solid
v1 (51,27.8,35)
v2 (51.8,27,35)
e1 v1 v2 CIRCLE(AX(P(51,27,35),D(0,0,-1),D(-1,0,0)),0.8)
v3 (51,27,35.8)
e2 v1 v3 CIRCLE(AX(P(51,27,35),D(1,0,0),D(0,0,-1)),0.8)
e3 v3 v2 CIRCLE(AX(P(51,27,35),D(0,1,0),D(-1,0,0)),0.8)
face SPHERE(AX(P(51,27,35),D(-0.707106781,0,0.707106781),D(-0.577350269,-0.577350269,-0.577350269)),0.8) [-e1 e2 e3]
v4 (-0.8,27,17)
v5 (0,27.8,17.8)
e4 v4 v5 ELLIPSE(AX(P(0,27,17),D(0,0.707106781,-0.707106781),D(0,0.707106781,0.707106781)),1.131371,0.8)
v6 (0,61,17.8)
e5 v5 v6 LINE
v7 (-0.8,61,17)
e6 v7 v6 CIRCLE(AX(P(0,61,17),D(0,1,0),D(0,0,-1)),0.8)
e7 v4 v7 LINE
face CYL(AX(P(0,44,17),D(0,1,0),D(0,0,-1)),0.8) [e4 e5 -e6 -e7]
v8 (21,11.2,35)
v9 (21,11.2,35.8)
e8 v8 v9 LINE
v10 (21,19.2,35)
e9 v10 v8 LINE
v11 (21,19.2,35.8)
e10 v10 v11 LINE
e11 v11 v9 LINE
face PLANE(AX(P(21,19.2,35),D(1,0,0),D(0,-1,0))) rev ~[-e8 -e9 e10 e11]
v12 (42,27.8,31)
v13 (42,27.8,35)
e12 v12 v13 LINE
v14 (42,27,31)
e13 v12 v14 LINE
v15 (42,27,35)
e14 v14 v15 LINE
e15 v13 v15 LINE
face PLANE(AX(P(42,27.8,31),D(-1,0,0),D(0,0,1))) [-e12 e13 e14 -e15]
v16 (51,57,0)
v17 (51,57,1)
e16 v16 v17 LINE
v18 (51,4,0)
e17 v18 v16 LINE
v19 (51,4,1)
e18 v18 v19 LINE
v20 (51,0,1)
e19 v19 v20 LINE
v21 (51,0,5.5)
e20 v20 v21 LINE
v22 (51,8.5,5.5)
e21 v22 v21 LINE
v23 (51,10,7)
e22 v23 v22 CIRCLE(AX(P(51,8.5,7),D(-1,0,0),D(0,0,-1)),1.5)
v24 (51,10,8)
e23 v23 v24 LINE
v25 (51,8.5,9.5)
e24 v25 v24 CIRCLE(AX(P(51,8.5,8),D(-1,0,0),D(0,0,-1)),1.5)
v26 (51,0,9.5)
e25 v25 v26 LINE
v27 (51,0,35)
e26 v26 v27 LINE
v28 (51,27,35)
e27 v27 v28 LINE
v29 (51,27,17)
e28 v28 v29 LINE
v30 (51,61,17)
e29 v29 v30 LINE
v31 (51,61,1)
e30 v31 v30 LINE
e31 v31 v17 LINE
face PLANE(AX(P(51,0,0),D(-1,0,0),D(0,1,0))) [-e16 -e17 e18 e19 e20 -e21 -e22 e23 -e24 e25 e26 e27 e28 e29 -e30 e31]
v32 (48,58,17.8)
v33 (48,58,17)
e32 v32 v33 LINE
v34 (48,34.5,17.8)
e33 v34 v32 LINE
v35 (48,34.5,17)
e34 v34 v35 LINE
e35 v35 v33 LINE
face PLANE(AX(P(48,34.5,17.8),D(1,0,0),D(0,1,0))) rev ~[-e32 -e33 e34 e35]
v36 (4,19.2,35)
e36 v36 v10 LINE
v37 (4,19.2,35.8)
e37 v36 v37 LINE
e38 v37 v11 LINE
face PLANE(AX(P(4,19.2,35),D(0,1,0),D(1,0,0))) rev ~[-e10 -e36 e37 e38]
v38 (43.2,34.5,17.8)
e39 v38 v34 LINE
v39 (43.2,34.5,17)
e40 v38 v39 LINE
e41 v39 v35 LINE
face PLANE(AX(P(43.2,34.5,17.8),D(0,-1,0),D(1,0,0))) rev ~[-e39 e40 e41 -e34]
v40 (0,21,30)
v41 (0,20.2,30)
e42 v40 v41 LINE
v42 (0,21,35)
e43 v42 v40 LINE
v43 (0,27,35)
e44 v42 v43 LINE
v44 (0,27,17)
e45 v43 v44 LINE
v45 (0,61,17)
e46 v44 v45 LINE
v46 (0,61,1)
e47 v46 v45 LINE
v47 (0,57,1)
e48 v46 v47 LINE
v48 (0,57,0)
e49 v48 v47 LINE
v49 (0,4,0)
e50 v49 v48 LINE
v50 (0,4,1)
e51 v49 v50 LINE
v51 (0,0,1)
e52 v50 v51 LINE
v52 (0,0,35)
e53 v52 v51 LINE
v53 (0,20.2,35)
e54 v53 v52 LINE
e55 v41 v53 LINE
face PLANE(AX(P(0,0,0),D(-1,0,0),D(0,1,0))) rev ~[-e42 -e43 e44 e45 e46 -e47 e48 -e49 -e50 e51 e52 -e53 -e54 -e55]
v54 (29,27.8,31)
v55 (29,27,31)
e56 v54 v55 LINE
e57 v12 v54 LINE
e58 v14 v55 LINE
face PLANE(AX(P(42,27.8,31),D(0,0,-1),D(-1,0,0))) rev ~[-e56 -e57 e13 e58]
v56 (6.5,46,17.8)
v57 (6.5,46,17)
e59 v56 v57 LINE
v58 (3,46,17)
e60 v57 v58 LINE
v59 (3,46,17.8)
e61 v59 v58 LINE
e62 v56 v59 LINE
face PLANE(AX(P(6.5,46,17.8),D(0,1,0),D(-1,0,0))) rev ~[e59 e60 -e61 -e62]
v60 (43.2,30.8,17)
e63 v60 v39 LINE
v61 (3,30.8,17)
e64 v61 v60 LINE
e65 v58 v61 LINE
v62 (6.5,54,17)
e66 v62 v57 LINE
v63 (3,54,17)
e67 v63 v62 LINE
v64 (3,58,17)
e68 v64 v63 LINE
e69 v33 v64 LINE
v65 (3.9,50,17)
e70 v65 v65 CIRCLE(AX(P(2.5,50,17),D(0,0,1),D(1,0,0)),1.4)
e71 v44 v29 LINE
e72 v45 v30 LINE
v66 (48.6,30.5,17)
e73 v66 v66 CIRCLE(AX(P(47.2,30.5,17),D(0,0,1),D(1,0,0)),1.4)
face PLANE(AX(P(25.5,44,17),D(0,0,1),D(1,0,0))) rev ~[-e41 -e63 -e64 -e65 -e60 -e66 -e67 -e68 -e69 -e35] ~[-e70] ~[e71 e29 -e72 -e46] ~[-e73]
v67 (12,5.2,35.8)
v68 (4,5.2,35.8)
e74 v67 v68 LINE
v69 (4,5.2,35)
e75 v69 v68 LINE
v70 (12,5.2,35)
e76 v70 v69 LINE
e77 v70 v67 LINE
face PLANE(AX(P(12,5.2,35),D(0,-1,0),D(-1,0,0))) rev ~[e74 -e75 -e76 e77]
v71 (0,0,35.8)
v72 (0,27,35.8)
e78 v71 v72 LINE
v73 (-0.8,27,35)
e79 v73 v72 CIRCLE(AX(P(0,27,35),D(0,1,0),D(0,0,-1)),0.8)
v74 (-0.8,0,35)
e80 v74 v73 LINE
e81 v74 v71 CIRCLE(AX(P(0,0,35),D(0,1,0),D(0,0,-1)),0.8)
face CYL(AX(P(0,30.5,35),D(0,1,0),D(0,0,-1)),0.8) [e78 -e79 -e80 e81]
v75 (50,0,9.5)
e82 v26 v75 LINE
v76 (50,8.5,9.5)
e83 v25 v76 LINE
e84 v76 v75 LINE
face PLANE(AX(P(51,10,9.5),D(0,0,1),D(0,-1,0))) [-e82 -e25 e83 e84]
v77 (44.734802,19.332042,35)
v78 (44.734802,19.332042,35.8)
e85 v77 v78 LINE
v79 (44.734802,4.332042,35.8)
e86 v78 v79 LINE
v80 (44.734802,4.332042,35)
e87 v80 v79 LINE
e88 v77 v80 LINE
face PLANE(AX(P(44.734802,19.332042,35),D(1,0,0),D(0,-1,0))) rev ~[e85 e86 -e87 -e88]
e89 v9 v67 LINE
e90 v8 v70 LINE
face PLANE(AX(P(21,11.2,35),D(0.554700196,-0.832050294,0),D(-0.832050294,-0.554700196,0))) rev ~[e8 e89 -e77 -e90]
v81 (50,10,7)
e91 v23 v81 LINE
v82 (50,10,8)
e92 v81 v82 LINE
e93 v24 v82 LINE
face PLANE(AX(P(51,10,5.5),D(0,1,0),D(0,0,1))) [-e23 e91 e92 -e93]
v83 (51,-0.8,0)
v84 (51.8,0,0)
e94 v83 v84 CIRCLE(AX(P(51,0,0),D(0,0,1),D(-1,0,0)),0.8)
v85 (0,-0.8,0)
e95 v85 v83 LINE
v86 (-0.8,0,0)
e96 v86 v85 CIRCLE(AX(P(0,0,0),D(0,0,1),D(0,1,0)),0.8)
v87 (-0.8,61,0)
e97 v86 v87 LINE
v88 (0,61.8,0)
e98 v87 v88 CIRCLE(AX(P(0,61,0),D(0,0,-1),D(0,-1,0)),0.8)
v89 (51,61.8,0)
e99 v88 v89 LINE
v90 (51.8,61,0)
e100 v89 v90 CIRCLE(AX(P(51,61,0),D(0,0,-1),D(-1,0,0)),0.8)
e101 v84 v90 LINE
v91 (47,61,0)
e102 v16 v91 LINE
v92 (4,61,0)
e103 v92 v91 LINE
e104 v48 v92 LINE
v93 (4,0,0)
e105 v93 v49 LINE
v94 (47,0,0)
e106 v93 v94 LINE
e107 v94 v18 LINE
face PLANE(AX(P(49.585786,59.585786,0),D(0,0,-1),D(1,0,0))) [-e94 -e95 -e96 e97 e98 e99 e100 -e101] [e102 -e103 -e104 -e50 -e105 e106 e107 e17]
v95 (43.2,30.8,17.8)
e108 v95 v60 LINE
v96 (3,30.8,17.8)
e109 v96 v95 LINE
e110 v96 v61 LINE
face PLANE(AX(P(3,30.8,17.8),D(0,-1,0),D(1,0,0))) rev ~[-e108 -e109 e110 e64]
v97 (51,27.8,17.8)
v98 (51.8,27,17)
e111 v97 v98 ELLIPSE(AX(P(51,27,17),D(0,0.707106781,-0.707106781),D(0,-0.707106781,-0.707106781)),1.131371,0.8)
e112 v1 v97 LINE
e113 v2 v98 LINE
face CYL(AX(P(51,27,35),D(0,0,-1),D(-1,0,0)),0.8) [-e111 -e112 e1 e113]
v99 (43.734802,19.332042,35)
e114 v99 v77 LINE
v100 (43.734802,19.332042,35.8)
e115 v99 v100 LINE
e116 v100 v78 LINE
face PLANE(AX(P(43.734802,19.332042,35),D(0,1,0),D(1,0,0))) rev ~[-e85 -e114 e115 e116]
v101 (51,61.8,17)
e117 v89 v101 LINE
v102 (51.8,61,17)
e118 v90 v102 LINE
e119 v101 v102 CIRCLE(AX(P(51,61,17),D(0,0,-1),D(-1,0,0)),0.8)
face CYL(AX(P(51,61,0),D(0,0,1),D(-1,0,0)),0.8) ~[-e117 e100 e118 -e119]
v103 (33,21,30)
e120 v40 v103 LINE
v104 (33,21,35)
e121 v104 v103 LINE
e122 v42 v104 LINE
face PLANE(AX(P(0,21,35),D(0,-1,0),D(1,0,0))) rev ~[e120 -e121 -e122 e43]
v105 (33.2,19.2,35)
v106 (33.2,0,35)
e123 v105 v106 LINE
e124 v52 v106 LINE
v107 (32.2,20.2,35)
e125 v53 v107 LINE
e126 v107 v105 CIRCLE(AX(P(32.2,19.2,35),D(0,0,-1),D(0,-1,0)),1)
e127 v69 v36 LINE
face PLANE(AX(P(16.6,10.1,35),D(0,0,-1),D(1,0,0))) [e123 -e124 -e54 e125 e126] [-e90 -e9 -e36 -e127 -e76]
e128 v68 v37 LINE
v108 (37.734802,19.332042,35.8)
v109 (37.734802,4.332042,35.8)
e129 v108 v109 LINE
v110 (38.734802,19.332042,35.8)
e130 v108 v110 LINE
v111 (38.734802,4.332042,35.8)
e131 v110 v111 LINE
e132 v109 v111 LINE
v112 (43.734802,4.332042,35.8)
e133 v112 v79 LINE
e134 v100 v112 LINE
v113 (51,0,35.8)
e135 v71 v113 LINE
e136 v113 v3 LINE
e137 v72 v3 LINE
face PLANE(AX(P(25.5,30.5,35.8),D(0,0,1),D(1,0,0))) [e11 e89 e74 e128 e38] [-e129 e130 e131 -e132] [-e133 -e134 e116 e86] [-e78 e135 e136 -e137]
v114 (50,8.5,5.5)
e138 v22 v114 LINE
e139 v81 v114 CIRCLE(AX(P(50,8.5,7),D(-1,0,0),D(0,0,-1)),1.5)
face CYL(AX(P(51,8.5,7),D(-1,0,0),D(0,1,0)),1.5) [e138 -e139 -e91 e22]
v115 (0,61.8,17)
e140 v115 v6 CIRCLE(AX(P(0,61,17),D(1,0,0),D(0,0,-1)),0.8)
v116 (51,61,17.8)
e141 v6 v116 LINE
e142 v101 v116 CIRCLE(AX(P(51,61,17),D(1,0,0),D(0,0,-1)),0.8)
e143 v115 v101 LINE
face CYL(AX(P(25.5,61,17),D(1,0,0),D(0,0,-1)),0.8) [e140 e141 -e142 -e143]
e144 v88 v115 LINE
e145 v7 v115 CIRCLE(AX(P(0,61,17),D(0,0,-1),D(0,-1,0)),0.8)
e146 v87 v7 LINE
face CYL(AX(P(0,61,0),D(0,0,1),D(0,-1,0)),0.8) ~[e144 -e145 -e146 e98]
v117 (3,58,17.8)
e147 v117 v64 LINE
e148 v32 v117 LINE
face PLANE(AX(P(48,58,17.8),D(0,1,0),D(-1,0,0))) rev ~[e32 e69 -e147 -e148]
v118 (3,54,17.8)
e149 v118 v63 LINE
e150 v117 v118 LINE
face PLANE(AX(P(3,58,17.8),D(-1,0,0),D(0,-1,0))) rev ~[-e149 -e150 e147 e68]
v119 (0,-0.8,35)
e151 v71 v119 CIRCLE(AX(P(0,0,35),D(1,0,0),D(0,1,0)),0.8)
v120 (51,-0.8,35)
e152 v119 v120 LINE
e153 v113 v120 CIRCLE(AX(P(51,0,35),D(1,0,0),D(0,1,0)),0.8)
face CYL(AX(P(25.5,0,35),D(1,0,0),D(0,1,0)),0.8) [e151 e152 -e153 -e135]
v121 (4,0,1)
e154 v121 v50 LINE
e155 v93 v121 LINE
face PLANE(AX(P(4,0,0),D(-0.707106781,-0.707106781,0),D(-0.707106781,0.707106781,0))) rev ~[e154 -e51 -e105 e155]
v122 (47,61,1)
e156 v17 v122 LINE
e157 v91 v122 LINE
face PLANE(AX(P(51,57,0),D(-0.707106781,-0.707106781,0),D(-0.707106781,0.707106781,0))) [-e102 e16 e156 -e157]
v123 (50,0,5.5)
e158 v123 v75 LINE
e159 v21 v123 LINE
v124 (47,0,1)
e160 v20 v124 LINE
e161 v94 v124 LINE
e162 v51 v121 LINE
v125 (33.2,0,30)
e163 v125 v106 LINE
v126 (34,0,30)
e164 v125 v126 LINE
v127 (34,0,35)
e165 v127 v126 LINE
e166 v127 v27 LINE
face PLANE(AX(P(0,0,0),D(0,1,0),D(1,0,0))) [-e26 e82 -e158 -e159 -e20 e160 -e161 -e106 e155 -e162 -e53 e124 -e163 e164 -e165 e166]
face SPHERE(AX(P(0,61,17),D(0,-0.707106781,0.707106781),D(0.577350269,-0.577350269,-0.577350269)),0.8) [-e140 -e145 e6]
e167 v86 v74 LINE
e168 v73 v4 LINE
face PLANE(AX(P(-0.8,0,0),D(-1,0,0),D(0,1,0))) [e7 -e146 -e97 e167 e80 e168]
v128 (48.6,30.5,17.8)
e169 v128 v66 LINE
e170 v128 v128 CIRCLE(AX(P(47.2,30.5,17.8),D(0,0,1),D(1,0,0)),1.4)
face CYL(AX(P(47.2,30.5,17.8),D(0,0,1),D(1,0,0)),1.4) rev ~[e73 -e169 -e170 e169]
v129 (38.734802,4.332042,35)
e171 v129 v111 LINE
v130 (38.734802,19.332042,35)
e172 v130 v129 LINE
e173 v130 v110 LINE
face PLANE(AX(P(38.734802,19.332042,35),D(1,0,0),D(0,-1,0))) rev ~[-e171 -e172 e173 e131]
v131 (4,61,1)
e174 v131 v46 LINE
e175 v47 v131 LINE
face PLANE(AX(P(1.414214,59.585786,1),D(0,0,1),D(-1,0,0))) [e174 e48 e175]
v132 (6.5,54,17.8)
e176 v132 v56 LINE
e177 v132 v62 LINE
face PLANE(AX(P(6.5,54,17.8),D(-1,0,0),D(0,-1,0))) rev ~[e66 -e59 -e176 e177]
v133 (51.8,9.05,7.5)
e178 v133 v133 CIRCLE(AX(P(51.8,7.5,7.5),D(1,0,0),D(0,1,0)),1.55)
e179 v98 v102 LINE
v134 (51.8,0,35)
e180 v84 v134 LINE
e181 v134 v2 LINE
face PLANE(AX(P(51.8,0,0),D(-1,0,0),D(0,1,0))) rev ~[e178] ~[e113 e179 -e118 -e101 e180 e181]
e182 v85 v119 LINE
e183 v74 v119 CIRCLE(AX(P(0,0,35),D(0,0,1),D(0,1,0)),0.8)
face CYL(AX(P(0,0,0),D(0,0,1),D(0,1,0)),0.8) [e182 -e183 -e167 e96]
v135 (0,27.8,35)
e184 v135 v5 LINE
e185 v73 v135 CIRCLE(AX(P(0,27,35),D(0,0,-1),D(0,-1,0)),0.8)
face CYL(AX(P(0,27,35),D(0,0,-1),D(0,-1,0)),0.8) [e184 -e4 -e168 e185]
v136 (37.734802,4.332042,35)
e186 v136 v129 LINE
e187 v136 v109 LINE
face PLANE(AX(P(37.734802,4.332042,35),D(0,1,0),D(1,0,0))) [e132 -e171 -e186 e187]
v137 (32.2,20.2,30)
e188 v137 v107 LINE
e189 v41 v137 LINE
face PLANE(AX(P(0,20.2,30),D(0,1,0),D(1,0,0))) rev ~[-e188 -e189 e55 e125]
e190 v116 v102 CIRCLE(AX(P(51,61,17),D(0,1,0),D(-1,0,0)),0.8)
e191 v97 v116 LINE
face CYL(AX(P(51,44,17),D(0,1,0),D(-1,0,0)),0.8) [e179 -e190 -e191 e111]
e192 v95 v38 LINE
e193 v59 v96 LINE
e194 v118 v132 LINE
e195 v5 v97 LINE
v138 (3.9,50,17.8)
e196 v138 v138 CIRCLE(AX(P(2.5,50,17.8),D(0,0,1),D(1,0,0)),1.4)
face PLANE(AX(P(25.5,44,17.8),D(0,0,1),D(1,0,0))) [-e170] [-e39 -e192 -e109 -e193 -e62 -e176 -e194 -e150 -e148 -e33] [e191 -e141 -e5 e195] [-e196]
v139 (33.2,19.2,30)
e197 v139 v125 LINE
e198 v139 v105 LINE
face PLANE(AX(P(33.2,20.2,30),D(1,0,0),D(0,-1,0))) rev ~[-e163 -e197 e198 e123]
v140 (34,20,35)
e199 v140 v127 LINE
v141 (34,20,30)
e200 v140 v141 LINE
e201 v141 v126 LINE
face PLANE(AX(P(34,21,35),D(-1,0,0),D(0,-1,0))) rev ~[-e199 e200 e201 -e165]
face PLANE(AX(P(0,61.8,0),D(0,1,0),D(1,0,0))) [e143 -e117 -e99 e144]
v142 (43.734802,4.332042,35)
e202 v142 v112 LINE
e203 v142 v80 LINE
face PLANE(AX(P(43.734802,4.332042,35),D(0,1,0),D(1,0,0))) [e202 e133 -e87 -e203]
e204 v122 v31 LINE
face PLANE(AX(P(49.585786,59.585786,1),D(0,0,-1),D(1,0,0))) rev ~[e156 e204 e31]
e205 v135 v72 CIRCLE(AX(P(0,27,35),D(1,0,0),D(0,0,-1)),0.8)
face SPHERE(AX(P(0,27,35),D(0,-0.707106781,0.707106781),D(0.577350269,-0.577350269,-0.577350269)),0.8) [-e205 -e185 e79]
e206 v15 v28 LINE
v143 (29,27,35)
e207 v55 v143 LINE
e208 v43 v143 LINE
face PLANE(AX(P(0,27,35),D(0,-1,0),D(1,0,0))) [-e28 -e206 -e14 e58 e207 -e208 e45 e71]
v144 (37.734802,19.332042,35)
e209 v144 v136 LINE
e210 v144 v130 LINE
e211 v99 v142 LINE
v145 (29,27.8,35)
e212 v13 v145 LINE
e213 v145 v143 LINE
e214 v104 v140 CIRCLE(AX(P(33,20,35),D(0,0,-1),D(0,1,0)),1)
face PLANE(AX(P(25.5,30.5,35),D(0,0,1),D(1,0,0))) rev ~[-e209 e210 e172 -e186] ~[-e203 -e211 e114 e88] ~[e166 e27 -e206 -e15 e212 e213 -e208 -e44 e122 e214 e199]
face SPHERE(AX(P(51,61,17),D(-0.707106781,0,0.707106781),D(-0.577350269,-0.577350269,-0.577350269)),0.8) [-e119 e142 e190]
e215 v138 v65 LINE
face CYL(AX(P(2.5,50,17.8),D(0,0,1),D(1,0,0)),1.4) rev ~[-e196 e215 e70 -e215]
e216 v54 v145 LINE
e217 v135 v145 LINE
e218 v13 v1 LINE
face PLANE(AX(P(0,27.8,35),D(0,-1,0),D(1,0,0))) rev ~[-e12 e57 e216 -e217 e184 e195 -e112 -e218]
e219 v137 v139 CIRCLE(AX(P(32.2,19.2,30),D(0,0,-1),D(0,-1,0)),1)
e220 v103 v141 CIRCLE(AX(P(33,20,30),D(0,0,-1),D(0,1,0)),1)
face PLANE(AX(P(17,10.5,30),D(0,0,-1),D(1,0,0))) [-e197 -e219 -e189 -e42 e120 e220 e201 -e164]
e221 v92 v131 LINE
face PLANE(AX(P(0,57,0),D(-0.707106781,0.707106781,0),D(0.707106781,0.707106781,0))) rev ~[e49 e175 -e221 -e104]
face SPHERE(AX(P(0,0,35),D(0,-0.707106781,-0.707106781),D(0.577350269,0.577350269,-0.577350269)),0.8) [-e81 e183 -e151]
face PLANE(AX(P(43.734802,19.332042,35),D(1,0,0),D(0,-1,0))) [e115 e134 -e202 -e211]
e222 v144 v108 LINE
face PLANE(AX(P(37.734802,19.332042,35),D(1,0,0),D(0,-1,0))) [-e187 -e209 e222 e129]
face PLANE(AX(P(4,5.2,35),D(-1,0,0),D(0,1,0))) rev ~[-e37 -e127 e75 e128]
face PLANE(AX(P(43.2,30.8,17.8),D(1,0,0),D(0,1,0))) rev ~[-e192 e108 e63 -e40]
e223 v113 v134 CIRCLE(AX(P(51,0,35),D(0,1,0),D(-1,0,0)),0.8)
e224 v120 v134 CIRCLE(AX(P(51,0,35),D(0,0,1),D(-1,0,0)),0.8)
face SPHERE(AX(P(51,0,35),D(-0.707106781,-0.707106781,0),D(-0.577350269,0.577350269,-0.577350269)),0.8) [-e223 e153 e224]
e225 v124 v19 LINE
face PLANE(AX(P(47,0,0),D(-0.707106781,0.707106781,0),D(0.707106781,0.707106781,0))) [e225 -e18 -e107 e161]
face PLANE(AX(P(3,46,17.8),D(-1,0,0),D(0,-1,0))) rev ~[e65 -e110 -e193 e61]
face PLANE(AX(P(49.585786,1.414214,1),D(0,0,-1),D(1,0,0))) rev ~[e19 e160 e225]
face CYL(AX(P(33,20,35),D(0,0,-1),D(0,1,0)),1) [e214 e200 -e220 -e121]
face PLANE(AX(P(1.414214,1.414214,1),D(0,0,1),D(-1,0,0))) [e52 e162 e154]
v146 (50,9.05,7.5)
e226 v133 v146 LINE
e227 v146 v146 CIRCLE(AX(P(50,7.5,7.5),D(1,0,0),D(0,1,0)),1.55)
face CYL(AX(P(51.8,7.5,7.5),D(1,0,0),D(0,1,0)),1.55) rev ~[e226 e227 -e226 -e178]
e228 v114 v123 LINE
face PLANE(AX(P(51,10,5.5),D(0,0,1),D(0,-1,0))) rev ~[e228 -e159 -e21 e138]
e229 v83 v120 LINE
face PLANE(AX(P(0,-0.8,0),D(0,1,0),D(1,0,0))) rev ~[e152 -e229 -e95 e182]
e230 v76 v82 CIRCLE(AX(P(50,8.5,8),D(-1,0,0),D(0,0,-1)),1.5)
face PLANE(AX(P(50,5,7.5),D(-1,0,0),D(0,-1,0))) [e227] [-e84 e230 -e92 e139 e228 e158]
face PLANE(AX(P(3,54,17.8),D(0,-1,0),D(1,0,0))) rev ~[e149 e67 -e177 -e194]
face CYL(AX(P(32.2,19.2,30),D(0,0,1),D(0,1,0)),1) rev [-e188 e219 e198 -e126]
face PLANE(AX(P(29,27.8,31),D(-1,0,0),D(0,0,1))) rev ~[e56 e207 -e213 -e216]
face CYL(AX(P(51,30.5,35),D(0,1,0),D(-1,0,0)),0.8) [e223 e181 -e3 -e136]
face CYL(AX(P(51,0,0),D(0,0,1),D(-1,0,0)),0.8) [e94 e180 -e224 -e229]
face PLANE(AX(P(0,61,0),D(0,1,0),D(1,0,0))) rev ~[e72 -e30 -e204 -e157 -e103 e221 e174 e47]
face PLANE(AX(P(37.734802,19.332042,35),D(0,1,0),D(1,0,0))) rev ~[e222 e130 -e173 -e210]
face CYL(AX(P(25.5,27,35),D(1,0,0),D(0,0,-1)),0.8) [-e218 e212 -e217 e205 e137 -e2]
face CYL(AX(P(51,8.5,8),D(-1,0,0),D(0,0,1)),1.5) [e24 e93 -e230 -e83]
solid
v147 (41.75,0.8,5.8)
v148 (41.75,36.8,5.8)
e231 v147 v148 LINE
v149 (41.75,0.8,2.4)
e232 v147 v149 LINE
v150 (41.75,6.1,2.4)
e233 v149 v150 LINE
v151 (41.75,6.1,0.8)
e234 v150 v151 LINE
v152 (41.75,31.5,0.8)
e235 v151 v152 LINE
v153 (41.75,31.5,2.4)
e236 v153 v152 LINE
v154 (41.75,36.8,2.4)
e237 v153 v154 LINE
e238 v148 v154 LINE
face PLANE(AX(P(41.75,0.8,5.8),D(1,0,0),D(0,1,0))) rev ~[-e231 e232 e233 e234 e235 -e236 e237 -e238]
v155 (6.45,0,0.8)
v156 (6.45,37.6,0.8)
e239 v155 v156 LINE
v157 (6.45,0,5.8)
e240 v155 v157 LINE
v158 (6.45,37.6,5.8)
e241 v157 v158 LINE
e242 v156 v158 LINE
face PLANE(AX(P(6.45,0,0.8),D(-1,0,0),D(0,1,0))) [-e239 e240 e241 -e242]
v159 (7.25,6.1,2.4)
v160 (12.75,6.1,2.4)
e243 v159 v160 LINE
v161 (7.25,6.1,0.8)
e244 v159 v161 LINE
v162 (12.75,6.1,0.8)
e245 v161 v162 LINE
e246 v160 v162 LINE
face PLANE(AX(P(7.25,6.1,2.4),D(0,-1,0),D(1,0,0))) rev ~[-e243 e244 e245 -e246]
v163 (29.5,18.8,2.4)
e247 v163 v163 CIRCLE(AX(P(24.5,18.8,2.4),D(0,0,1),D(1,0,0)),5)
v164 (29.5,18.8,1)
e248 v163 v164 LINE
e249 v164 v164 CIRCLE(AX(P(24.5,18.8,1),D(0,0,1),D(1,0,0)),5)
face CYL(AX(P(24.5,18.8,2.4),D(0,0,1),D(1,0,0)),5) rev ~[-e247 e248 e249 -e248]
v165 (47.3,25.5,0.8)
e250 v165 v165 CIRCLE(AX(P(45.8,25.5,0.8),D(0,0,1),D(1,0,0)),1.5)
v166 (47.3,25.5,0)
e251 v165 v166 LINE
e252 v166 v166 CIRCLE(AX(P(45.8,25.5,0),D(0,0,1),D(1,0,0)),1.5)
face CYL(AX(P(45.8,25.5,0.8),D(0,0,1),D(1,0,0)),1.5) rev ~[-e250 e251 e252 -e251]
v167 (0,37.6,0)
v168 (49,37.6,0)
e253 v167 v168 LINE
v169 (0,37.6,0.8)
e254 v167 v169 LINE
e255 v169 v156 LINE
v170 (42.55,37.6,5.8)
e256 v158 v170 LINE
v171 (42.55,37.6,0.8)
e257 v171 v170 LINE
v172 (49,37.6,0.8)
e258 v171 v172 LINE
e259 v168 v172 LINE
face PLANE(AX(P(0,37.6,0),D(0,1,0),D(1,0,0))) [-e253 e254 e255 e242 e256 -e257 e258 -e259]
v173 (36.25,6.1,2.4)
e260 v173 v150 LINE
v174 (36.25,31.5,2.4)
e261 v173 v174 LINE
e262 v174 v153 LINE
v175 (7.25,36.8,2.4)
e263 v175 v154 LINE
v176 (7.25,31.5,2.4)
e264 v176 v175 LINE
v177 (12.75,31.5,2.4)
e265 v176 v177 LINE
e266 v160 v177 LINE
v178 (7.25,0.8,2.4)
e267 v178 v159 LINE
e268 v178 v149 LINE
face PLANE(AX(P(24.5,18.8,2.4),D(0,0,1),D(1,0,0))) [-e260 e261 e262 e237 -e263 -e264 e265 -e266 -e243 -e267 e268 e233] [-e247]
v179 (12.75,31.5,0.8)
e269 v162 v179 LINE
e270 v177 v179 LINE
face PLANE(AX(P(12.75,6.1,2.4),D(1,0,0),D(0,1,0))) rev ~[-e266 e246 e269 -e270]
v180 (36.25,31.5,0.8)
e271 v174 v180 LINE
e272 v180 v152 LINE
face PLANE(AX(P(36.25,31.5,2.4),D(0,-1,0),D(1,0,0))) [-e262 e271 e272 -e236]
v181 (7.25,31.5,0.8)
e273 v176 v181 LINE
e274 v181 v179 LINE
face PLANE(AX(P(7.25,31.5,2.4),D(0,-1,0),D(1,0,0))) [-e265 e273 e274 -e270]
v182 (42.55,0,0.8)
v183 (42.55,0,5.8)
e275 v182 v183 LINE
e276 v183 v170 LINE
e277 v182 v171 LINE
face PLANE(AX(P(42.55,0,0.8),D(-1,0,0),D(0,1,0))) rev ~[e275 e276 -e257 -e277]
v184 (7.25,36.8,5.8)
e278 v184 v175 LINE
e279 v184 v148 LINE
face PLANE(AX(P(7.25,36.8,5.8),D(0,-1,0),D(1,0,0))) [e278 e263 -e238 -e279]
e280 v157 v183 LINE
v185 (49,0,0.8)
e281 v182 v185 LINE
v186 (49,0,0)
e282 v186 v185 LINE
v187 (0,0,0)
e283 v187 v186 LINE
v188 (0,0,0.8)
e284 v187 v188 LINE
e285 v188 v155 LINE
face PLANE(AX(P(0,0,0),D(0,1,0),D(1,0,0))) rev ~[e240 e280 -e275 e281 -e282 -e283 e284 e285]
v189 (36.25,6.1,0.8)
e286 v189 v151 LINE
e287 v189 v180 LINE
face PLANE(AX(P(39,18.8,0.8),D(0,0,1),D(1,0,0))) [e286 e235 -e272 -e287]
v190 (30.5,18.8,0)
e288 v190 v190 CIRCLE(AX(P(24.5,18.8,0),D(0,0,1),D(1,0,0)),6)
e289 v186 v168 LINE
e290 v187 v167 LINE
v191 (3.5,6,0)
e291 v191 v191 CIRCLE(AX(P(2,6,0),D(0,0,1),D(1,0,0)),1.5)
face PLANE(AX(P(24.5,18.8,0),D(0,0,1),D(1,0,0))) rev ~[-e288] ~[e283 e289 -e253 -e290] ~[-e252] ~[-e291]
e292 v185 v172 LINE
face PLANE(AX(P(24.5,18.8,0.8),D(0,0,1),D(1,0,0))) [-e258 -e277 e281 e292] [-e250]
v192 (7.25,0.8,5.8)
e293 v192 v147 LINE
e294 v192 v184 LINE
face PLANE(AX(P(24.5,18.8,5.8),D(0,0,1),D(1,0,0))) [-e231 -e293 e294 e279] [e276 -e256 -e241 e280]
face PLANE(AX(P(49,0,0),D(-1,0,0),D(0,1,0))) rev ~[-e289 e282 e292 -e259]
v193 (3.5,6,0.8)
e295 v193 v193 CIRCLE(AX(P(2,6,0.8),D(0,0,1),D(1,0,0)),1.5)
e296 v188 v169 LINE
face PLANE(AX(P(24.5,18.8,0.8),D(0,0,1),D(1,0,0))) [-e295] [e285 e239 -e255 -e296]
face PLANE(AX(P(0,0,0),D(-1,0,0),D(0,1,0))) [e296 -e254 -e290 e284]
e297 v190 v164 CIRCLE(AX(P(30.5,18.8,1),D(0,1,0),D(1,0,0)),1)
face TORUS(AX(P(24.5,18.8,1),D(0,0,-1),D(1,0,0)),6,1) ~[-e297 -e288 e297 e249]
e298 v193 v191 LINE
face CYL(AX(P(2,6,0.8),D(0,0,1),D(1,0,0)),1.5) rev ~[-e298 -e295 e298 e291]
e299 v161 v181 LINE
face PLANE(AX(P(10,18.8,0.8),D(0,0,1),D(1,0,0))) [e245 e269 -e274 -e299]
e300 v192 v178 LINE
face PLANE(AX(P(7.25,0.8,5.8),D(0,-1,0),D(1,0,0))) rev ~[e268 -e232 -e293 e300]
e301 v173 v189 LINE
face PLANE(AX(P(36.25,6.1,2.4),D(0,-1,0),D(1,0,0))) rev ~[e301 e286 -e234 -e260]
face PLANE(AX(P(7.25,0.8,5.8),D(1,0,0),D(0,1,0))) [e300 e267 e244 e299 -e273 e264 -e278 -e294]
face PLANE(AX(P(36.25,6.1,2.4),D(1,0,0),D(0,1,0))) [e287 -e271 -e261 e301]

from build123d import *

# Parameters (mm, degrees)
SKETCH_W                = 51
SKETCH_H                = 61
PAD_DEPTH               = 35
SKETCH001_W             = 51
SKETCH001_H             = 34
POCKET_DEPTH            = 18
THICKNESS_T             = 0.8
SKETCH002_W             = 13
SKETCH002_H             = 4
POCKET001_DEPTH         = 0.8
SKETCH003_R             = 1.4
POCKET002_DEPTH         = 0.8
SKETCH004_R             = 1.4
POCKET003_DEPTH         = 0.8
POCKET004_DEPTH         = 0.8
SKETCH006_W             = 34
SKETCH006_H             = 21
PAD001_DEPTH            = 5
SKETCH007_W             = 33.2
SKETCH007_H             = 20.2
POCKET005_DEPTH         = 5
POCKET006_DEPTH         = 0.8
SKETCH010_W             = 1
SKETCH010_H             = 15
POCKET007_DEPTH         = 0.8
LINEARPATTERN_COUNT     = 2
LINEARPATTERN_PITCH     = 6
FILLET_R                = 1
PAD002_DEPTH            = 1
PAD003_DEPTH            = 1
PAD004_DEPTH            = 1
PAD005_DEPTH            = 1
SKETCH016_W             = 10
SKETCH016_H             = 4
PAD006_DEPTH            = 1
SKETCH015_R             = 1.55
POCKET008_DEPTH         = 1.8
FILLET001_R             = 1.5
SKETCH017_W             = 49
SKETCH017_H             = 37.6
PAD007_DEPTH            = 0.8
SKETCH018_R             = 1.5
POCKET009_DEPTH         = 0.8
SKETCH020_R             = 1.5
POCKET010_DEPTH         = 0.8
SKETCH021_W             = 36.1
SKETCH021_H             = 37.6
PAD008_DEPTH            = 5
SKETCH022_W             = 34.5
SKETCH022_H             = 36
POCKET011_DEPTH         = 3.4
SKETCH023_W             = 5.5
SKETCH023_H             = 25.4
POCKET012_DEPTH         = 1.6
SKETCH024_W             = 5.5
SKETCH024_H             = 25.4
POCKET013_DEPTH         = 1.6
SKETCH025_R             = 5
POCKET014_DEPTH         = 2.4
FILLET002_R             = 1
BODY001_PLACEMENT_ANGLE = 180


with BuildPart() as body:
    # Sketch → Pad (new body)
    with BuildSketch(Plane.XY):
        with Locations((25.5, 30.5)):
            Rectangle(SKETCH_W, SKETCH_H)
    extrude(amount=PAD_DEPTH)

    # Sketch001 (on Face6 of Pad) → Pocket (cut)
    with BuildSketch(Plane.XY.offset(35)):
        with Locations((25.5, 44)):
            Rectangle(SKETCH001_W, SKETCH001_H)
    extrude(amount=-POCKET_DEPTH, mode=Mode.SUBTRACT)

    # Thickness
    thickness_openings = [body.faces().sort_by_distance(p)[0] for p in [
        (25.5, 30.5, 0),
    ]]
    offset(amount=THICKNESS_T, openings=thickness_openings)

    # Sketch002 (on Face31 of Thickness) → Pocket001 (cut)
    with BuildSketch(Plane(origin=(0, 27.8, 0), x_dir=(-1, 0, 0), z_dir=(0, 1, 0))):
        with Locations((-35.5, 33)):
            Rectangle(SKETCH002_W, SKETCH002_H)
    extrude(amount=-POCKET001_DEPTH, mode=Mode.SUBTRACT)

    # Sketch003 (on Face35 of Pocket001) → Pocket002 (cut)
    with BuildSketch(Plane.XY.offset(17.8)):
        with Locations((2.5, 50)):
            Circle(SKETCH003_R)
    extrude(amount=-POCKET002_DEPTH, mode=Mode.SUBTRACT)

    # Sketch004 (on Face36 of Pocket002) → Pocket003 (cut)
    with BuildSketch(Plane.XY.offset(17.8)):
        with Locations((47.2, 30.5)):
            Circle(SKETCH004_R)
    extrude(amount=-POCKET003_DEPTH, mode=Mode.SUBTRACT)

    # Sketch005 (on Face37 of Pocket003) → Pocket004 (cut)
    with BuildSketch(Plane.XY.offset(17.8)):
        Polygon((3, 46), (3, 30.8), (43.2, 30.8), (43.2, 34.5), (48, 34.5), (48, 58), (3, 58), (3, 54), (6.5, 54), (6.5, 46), align=None)
    extrude(amount=-POCKET004_DEPTH, mode=Mode.SUBTRACT)

    # Sketch006 (on Face5 of Pocket004) → Pad001 (join)
    with BuildSketch(Plane(origin=(0, 0, 35), x_dir=(1, 0, 0), z_dir=(0, 0, -1))):
        with Locations((17, -10.5)):
            Rectangle(SKETCH006_W, SKETCH006_H)
    extrude(amount=PAD001_DEPTH)

    # Sketch007 (on Face6 of Pad001) → Pocket005 (cut)
    with BuildSketch(Plane(origin=(0, 0, 30), x_dir=(1, 0, 0), z_dir=(0, 0, -1))):
        with Locations((16.6, -10.1)):
            Rectangle(SKETCH007_W, SKETCH007_H)
    extrude(amount=-POCKET005_DEPTH, mode=Mode.SUBTRACT)

    # Sketch008 (on Face24 of Pocket005) → Pocket006 (cut)
    with BuildSketch(Plane(origin=(0, 0, 35), x_dir=(1, 0, 0), z_dir=(0, 0, -1))):
        Polygon((4, -19.2), (21, -19.2), (21, -11.2), (12, -5.2), (4, -5.2), align=None)
    extrude(amount=-POCKET006_DEPTH, mode=Mode.SUBTRACT)

    # Sketch010 (on Face4 of Pocket006) → Pocket007 (cut)
    with BuildSketch(Plane(origin=(0, 0, 35), x_dir=(1, 0, 0), z_dir=(0, 0, -1))):
        with Locations((38.234802, -11.832042)):
            Rectangle(SKETCH010_W, SKETCH010_H)
    pocket007 = extrude(amount=-POCKET007_DEPTH, mode=Mode.SUBTRACT)

    # LinearPattern: Pocket007 ×2
    with Locations(*[(i * LINEARPATTERN_PITCH, 0, 0) for i in range(1, LINEARPATTERN_COUNT)]):
        add(pocket007, mode=Mode.SUBTRACT)

    # Fillet
    fillet_edges = [body.edges().sort_by_distance(p)[0] for p in [
        (33.2, 20.2, 32.5),
        (34, 21, 32.5),
    ]]
    fillet(fillet_edges, radius=FILLET_R)

    # Sketch011 (on Face19 of Fillet) → Pad002 (join)
    with BuildSketch(Plane(origin=(0, 0, 0), x_dir=(1, 0, 0), z_dir=(0, 0, -1))):
        Polygon((0, 0), (4, 0), (0, -4), align=None)
    extrude(amount=-PAD002_DEPTH)

    # Sketch012 (on Face19 of Pad002) → Pad003 (join)
    with BuildSketch(Plane(origin=(0, 0, 0), x_dir=(1, 0, 0), z_dir=(0, 0, -1))):
        Polygon((51, 0), (47, 0), (51, -4), align=None)
    extrude(amount=-PAD003_DEPTH)

    # Sketch013 (on Face19 of Pad003) → Pad004 (join)
    with BuildSketch(Plane(origin=(0, 0, 0), x_dir=(1, 0, 0), z_dir=(0, 0, -1))):
        Polygon((0, -61), (0, -57), (4, -61), align=None)
    extrude(amount=-PAD004_DEPTH)

    # Sketch014 (on Face19 of Pad004) → Pad005 (join)
    with BuildSketch(Plane(origin=(0, 0, 0), x_dir=(1, 0, 0), z_dir=(0, 0, -1))):
        Polygon((51, -61), (51, -57), (47, -61), align=None)
    extrude(amount=-PAD005_DEPTH)

    # Sketch016 (on Face9 of Pad005) → Pad006 (join)
    with BuildSketch(Plane(origin=(51, 0, 0), x_dir=(0, -1, 0), z_dir=(-1, 0, 0))):
        with Locations((-5, 7.5)):
            Rectangle(SKETCH016_W, SKETCH016_H)
    extrude(amount=PAD006_DEPTH)

    # Sketch015 (on Face49 of Pad005) → Pocket008 (cut)
    with BuildSketch(Plane.YZ.offset(51.8)):
        with Locations((7.5, 7.5)):
            Circle(SKETCH015_R)
    extrude(amount=-POCKET008_DEPTH, mode=Mode.SUBTRACT)

    # Fillet001
    fillet001_edges = [body.edges().sort_by_distance(p)[0] for p in [
        (50.5, 10, 5.5),
        (50.5, 10, 9.5),
    ]]
    fillet(fillet001_edges, radius=FILLET001_R)


with BuildPart() as esp:
    # Sketch017 → Pad007 (new body)
    with BuildSketch(Plane.XY):
        with Locations((24.5, 18.8)):
            Rectangle(SKETCH017_W, SKETCH017_H)
    extrude(amount=PAD007_DEPTH)

    # Sketch018 (on Face6 of Pad007) → Pocket009 (cut)
    with BuildSketch(Plane.XY.offset(0.8)):
        with Locations((2, 6)):
            Circle(SKETCH018_R)
    extrude(amount=-POCKET009_DEPTH, mode=Mode.SUBTRACT)

    # Sketch020 (on Face5 of Pocket009) → Pocket010 (cut)
    with BuildSketch(Plane.XY.offset(0.8)):
        with Locations((45.8, 25.5)):
            Circle(SKETCH020_R)
    extrude(amount=-POCKET010_DEPTH, mode=Mode.SUBTRACT)

    # Sketch021 (on Face5 of Pocket010) → Pad008 (join)
    with BuildSketch(Plane.XY.offset(0.8)):
        with Locations((24.5, 18.8)):
            Rectangle(SKETCH021_W, SKETCH021_H)
    extrude(amount=PAD008_DEPTH)

    # Sketch022 (on Face13 of Pad008) → Pocket011 (cut)
    with BuildSketch(Plane.XY.offset(5.8)):
        with Locations((24.5, 18.8)):
            Rectangle(SKETCH022_W, SKETCH022_H)
    extrude(amount=-POCKET011_DEPTH, mode=Mode.SUBTRACT)

    # Sketch023 (on Face19 of Pocket011) → Pocket012 (cut)
    with BuildSketch(Plane.XY.offset(2.4)):
        with Locations((10, 18.8)):
            Rectangle(SKETCH023_W, SKETCH023_H)
    extrude(amount=-POCKET012_DEPTH, mode=Mode.SUBTRACT)

    # Sketch024 (on Face19 of Pocket012) → Pocket013 (cut)
    with BuildSketch(Plane.XY.offset(2.4)):
        with Locations((39, 18.8)):
            Rectangle(SKETCH024_W, SKETCH024_H)
    extrude(amount=-POCKET013_DEPTH, mode=Mode.SUBTRACT)

    # Sketch025 (on Face19 of Pocket013) → Pocket014 (cut)
    with BuildSketch(Plane.XY.offset(2.4)):
        with Locations((24.5, 18.8)):
            Circle(SKETCH025_R)
    extrude(amount=-POCKET014_DEPTH, mode=Mode.SUBTRACT)

    # Fillet002
    fillet002_edges = [esp.edges().sort_by_distance(p)[0] for p in [
        (19.5, 18.8, 0),
    ]]
    fillet(fillet002_edges, radius=FILLET002_R)


with BuildPart() as esp_1:
    # Body001 placement: moved
    add(esp.part.moved(Location((1, 56, 15))).rotate(Axis((1, 56, 15), (1, 0, 0)), BODY001_PLACEMENT_ANGLE))


solid = Compound([body.part, esp_1.part])
